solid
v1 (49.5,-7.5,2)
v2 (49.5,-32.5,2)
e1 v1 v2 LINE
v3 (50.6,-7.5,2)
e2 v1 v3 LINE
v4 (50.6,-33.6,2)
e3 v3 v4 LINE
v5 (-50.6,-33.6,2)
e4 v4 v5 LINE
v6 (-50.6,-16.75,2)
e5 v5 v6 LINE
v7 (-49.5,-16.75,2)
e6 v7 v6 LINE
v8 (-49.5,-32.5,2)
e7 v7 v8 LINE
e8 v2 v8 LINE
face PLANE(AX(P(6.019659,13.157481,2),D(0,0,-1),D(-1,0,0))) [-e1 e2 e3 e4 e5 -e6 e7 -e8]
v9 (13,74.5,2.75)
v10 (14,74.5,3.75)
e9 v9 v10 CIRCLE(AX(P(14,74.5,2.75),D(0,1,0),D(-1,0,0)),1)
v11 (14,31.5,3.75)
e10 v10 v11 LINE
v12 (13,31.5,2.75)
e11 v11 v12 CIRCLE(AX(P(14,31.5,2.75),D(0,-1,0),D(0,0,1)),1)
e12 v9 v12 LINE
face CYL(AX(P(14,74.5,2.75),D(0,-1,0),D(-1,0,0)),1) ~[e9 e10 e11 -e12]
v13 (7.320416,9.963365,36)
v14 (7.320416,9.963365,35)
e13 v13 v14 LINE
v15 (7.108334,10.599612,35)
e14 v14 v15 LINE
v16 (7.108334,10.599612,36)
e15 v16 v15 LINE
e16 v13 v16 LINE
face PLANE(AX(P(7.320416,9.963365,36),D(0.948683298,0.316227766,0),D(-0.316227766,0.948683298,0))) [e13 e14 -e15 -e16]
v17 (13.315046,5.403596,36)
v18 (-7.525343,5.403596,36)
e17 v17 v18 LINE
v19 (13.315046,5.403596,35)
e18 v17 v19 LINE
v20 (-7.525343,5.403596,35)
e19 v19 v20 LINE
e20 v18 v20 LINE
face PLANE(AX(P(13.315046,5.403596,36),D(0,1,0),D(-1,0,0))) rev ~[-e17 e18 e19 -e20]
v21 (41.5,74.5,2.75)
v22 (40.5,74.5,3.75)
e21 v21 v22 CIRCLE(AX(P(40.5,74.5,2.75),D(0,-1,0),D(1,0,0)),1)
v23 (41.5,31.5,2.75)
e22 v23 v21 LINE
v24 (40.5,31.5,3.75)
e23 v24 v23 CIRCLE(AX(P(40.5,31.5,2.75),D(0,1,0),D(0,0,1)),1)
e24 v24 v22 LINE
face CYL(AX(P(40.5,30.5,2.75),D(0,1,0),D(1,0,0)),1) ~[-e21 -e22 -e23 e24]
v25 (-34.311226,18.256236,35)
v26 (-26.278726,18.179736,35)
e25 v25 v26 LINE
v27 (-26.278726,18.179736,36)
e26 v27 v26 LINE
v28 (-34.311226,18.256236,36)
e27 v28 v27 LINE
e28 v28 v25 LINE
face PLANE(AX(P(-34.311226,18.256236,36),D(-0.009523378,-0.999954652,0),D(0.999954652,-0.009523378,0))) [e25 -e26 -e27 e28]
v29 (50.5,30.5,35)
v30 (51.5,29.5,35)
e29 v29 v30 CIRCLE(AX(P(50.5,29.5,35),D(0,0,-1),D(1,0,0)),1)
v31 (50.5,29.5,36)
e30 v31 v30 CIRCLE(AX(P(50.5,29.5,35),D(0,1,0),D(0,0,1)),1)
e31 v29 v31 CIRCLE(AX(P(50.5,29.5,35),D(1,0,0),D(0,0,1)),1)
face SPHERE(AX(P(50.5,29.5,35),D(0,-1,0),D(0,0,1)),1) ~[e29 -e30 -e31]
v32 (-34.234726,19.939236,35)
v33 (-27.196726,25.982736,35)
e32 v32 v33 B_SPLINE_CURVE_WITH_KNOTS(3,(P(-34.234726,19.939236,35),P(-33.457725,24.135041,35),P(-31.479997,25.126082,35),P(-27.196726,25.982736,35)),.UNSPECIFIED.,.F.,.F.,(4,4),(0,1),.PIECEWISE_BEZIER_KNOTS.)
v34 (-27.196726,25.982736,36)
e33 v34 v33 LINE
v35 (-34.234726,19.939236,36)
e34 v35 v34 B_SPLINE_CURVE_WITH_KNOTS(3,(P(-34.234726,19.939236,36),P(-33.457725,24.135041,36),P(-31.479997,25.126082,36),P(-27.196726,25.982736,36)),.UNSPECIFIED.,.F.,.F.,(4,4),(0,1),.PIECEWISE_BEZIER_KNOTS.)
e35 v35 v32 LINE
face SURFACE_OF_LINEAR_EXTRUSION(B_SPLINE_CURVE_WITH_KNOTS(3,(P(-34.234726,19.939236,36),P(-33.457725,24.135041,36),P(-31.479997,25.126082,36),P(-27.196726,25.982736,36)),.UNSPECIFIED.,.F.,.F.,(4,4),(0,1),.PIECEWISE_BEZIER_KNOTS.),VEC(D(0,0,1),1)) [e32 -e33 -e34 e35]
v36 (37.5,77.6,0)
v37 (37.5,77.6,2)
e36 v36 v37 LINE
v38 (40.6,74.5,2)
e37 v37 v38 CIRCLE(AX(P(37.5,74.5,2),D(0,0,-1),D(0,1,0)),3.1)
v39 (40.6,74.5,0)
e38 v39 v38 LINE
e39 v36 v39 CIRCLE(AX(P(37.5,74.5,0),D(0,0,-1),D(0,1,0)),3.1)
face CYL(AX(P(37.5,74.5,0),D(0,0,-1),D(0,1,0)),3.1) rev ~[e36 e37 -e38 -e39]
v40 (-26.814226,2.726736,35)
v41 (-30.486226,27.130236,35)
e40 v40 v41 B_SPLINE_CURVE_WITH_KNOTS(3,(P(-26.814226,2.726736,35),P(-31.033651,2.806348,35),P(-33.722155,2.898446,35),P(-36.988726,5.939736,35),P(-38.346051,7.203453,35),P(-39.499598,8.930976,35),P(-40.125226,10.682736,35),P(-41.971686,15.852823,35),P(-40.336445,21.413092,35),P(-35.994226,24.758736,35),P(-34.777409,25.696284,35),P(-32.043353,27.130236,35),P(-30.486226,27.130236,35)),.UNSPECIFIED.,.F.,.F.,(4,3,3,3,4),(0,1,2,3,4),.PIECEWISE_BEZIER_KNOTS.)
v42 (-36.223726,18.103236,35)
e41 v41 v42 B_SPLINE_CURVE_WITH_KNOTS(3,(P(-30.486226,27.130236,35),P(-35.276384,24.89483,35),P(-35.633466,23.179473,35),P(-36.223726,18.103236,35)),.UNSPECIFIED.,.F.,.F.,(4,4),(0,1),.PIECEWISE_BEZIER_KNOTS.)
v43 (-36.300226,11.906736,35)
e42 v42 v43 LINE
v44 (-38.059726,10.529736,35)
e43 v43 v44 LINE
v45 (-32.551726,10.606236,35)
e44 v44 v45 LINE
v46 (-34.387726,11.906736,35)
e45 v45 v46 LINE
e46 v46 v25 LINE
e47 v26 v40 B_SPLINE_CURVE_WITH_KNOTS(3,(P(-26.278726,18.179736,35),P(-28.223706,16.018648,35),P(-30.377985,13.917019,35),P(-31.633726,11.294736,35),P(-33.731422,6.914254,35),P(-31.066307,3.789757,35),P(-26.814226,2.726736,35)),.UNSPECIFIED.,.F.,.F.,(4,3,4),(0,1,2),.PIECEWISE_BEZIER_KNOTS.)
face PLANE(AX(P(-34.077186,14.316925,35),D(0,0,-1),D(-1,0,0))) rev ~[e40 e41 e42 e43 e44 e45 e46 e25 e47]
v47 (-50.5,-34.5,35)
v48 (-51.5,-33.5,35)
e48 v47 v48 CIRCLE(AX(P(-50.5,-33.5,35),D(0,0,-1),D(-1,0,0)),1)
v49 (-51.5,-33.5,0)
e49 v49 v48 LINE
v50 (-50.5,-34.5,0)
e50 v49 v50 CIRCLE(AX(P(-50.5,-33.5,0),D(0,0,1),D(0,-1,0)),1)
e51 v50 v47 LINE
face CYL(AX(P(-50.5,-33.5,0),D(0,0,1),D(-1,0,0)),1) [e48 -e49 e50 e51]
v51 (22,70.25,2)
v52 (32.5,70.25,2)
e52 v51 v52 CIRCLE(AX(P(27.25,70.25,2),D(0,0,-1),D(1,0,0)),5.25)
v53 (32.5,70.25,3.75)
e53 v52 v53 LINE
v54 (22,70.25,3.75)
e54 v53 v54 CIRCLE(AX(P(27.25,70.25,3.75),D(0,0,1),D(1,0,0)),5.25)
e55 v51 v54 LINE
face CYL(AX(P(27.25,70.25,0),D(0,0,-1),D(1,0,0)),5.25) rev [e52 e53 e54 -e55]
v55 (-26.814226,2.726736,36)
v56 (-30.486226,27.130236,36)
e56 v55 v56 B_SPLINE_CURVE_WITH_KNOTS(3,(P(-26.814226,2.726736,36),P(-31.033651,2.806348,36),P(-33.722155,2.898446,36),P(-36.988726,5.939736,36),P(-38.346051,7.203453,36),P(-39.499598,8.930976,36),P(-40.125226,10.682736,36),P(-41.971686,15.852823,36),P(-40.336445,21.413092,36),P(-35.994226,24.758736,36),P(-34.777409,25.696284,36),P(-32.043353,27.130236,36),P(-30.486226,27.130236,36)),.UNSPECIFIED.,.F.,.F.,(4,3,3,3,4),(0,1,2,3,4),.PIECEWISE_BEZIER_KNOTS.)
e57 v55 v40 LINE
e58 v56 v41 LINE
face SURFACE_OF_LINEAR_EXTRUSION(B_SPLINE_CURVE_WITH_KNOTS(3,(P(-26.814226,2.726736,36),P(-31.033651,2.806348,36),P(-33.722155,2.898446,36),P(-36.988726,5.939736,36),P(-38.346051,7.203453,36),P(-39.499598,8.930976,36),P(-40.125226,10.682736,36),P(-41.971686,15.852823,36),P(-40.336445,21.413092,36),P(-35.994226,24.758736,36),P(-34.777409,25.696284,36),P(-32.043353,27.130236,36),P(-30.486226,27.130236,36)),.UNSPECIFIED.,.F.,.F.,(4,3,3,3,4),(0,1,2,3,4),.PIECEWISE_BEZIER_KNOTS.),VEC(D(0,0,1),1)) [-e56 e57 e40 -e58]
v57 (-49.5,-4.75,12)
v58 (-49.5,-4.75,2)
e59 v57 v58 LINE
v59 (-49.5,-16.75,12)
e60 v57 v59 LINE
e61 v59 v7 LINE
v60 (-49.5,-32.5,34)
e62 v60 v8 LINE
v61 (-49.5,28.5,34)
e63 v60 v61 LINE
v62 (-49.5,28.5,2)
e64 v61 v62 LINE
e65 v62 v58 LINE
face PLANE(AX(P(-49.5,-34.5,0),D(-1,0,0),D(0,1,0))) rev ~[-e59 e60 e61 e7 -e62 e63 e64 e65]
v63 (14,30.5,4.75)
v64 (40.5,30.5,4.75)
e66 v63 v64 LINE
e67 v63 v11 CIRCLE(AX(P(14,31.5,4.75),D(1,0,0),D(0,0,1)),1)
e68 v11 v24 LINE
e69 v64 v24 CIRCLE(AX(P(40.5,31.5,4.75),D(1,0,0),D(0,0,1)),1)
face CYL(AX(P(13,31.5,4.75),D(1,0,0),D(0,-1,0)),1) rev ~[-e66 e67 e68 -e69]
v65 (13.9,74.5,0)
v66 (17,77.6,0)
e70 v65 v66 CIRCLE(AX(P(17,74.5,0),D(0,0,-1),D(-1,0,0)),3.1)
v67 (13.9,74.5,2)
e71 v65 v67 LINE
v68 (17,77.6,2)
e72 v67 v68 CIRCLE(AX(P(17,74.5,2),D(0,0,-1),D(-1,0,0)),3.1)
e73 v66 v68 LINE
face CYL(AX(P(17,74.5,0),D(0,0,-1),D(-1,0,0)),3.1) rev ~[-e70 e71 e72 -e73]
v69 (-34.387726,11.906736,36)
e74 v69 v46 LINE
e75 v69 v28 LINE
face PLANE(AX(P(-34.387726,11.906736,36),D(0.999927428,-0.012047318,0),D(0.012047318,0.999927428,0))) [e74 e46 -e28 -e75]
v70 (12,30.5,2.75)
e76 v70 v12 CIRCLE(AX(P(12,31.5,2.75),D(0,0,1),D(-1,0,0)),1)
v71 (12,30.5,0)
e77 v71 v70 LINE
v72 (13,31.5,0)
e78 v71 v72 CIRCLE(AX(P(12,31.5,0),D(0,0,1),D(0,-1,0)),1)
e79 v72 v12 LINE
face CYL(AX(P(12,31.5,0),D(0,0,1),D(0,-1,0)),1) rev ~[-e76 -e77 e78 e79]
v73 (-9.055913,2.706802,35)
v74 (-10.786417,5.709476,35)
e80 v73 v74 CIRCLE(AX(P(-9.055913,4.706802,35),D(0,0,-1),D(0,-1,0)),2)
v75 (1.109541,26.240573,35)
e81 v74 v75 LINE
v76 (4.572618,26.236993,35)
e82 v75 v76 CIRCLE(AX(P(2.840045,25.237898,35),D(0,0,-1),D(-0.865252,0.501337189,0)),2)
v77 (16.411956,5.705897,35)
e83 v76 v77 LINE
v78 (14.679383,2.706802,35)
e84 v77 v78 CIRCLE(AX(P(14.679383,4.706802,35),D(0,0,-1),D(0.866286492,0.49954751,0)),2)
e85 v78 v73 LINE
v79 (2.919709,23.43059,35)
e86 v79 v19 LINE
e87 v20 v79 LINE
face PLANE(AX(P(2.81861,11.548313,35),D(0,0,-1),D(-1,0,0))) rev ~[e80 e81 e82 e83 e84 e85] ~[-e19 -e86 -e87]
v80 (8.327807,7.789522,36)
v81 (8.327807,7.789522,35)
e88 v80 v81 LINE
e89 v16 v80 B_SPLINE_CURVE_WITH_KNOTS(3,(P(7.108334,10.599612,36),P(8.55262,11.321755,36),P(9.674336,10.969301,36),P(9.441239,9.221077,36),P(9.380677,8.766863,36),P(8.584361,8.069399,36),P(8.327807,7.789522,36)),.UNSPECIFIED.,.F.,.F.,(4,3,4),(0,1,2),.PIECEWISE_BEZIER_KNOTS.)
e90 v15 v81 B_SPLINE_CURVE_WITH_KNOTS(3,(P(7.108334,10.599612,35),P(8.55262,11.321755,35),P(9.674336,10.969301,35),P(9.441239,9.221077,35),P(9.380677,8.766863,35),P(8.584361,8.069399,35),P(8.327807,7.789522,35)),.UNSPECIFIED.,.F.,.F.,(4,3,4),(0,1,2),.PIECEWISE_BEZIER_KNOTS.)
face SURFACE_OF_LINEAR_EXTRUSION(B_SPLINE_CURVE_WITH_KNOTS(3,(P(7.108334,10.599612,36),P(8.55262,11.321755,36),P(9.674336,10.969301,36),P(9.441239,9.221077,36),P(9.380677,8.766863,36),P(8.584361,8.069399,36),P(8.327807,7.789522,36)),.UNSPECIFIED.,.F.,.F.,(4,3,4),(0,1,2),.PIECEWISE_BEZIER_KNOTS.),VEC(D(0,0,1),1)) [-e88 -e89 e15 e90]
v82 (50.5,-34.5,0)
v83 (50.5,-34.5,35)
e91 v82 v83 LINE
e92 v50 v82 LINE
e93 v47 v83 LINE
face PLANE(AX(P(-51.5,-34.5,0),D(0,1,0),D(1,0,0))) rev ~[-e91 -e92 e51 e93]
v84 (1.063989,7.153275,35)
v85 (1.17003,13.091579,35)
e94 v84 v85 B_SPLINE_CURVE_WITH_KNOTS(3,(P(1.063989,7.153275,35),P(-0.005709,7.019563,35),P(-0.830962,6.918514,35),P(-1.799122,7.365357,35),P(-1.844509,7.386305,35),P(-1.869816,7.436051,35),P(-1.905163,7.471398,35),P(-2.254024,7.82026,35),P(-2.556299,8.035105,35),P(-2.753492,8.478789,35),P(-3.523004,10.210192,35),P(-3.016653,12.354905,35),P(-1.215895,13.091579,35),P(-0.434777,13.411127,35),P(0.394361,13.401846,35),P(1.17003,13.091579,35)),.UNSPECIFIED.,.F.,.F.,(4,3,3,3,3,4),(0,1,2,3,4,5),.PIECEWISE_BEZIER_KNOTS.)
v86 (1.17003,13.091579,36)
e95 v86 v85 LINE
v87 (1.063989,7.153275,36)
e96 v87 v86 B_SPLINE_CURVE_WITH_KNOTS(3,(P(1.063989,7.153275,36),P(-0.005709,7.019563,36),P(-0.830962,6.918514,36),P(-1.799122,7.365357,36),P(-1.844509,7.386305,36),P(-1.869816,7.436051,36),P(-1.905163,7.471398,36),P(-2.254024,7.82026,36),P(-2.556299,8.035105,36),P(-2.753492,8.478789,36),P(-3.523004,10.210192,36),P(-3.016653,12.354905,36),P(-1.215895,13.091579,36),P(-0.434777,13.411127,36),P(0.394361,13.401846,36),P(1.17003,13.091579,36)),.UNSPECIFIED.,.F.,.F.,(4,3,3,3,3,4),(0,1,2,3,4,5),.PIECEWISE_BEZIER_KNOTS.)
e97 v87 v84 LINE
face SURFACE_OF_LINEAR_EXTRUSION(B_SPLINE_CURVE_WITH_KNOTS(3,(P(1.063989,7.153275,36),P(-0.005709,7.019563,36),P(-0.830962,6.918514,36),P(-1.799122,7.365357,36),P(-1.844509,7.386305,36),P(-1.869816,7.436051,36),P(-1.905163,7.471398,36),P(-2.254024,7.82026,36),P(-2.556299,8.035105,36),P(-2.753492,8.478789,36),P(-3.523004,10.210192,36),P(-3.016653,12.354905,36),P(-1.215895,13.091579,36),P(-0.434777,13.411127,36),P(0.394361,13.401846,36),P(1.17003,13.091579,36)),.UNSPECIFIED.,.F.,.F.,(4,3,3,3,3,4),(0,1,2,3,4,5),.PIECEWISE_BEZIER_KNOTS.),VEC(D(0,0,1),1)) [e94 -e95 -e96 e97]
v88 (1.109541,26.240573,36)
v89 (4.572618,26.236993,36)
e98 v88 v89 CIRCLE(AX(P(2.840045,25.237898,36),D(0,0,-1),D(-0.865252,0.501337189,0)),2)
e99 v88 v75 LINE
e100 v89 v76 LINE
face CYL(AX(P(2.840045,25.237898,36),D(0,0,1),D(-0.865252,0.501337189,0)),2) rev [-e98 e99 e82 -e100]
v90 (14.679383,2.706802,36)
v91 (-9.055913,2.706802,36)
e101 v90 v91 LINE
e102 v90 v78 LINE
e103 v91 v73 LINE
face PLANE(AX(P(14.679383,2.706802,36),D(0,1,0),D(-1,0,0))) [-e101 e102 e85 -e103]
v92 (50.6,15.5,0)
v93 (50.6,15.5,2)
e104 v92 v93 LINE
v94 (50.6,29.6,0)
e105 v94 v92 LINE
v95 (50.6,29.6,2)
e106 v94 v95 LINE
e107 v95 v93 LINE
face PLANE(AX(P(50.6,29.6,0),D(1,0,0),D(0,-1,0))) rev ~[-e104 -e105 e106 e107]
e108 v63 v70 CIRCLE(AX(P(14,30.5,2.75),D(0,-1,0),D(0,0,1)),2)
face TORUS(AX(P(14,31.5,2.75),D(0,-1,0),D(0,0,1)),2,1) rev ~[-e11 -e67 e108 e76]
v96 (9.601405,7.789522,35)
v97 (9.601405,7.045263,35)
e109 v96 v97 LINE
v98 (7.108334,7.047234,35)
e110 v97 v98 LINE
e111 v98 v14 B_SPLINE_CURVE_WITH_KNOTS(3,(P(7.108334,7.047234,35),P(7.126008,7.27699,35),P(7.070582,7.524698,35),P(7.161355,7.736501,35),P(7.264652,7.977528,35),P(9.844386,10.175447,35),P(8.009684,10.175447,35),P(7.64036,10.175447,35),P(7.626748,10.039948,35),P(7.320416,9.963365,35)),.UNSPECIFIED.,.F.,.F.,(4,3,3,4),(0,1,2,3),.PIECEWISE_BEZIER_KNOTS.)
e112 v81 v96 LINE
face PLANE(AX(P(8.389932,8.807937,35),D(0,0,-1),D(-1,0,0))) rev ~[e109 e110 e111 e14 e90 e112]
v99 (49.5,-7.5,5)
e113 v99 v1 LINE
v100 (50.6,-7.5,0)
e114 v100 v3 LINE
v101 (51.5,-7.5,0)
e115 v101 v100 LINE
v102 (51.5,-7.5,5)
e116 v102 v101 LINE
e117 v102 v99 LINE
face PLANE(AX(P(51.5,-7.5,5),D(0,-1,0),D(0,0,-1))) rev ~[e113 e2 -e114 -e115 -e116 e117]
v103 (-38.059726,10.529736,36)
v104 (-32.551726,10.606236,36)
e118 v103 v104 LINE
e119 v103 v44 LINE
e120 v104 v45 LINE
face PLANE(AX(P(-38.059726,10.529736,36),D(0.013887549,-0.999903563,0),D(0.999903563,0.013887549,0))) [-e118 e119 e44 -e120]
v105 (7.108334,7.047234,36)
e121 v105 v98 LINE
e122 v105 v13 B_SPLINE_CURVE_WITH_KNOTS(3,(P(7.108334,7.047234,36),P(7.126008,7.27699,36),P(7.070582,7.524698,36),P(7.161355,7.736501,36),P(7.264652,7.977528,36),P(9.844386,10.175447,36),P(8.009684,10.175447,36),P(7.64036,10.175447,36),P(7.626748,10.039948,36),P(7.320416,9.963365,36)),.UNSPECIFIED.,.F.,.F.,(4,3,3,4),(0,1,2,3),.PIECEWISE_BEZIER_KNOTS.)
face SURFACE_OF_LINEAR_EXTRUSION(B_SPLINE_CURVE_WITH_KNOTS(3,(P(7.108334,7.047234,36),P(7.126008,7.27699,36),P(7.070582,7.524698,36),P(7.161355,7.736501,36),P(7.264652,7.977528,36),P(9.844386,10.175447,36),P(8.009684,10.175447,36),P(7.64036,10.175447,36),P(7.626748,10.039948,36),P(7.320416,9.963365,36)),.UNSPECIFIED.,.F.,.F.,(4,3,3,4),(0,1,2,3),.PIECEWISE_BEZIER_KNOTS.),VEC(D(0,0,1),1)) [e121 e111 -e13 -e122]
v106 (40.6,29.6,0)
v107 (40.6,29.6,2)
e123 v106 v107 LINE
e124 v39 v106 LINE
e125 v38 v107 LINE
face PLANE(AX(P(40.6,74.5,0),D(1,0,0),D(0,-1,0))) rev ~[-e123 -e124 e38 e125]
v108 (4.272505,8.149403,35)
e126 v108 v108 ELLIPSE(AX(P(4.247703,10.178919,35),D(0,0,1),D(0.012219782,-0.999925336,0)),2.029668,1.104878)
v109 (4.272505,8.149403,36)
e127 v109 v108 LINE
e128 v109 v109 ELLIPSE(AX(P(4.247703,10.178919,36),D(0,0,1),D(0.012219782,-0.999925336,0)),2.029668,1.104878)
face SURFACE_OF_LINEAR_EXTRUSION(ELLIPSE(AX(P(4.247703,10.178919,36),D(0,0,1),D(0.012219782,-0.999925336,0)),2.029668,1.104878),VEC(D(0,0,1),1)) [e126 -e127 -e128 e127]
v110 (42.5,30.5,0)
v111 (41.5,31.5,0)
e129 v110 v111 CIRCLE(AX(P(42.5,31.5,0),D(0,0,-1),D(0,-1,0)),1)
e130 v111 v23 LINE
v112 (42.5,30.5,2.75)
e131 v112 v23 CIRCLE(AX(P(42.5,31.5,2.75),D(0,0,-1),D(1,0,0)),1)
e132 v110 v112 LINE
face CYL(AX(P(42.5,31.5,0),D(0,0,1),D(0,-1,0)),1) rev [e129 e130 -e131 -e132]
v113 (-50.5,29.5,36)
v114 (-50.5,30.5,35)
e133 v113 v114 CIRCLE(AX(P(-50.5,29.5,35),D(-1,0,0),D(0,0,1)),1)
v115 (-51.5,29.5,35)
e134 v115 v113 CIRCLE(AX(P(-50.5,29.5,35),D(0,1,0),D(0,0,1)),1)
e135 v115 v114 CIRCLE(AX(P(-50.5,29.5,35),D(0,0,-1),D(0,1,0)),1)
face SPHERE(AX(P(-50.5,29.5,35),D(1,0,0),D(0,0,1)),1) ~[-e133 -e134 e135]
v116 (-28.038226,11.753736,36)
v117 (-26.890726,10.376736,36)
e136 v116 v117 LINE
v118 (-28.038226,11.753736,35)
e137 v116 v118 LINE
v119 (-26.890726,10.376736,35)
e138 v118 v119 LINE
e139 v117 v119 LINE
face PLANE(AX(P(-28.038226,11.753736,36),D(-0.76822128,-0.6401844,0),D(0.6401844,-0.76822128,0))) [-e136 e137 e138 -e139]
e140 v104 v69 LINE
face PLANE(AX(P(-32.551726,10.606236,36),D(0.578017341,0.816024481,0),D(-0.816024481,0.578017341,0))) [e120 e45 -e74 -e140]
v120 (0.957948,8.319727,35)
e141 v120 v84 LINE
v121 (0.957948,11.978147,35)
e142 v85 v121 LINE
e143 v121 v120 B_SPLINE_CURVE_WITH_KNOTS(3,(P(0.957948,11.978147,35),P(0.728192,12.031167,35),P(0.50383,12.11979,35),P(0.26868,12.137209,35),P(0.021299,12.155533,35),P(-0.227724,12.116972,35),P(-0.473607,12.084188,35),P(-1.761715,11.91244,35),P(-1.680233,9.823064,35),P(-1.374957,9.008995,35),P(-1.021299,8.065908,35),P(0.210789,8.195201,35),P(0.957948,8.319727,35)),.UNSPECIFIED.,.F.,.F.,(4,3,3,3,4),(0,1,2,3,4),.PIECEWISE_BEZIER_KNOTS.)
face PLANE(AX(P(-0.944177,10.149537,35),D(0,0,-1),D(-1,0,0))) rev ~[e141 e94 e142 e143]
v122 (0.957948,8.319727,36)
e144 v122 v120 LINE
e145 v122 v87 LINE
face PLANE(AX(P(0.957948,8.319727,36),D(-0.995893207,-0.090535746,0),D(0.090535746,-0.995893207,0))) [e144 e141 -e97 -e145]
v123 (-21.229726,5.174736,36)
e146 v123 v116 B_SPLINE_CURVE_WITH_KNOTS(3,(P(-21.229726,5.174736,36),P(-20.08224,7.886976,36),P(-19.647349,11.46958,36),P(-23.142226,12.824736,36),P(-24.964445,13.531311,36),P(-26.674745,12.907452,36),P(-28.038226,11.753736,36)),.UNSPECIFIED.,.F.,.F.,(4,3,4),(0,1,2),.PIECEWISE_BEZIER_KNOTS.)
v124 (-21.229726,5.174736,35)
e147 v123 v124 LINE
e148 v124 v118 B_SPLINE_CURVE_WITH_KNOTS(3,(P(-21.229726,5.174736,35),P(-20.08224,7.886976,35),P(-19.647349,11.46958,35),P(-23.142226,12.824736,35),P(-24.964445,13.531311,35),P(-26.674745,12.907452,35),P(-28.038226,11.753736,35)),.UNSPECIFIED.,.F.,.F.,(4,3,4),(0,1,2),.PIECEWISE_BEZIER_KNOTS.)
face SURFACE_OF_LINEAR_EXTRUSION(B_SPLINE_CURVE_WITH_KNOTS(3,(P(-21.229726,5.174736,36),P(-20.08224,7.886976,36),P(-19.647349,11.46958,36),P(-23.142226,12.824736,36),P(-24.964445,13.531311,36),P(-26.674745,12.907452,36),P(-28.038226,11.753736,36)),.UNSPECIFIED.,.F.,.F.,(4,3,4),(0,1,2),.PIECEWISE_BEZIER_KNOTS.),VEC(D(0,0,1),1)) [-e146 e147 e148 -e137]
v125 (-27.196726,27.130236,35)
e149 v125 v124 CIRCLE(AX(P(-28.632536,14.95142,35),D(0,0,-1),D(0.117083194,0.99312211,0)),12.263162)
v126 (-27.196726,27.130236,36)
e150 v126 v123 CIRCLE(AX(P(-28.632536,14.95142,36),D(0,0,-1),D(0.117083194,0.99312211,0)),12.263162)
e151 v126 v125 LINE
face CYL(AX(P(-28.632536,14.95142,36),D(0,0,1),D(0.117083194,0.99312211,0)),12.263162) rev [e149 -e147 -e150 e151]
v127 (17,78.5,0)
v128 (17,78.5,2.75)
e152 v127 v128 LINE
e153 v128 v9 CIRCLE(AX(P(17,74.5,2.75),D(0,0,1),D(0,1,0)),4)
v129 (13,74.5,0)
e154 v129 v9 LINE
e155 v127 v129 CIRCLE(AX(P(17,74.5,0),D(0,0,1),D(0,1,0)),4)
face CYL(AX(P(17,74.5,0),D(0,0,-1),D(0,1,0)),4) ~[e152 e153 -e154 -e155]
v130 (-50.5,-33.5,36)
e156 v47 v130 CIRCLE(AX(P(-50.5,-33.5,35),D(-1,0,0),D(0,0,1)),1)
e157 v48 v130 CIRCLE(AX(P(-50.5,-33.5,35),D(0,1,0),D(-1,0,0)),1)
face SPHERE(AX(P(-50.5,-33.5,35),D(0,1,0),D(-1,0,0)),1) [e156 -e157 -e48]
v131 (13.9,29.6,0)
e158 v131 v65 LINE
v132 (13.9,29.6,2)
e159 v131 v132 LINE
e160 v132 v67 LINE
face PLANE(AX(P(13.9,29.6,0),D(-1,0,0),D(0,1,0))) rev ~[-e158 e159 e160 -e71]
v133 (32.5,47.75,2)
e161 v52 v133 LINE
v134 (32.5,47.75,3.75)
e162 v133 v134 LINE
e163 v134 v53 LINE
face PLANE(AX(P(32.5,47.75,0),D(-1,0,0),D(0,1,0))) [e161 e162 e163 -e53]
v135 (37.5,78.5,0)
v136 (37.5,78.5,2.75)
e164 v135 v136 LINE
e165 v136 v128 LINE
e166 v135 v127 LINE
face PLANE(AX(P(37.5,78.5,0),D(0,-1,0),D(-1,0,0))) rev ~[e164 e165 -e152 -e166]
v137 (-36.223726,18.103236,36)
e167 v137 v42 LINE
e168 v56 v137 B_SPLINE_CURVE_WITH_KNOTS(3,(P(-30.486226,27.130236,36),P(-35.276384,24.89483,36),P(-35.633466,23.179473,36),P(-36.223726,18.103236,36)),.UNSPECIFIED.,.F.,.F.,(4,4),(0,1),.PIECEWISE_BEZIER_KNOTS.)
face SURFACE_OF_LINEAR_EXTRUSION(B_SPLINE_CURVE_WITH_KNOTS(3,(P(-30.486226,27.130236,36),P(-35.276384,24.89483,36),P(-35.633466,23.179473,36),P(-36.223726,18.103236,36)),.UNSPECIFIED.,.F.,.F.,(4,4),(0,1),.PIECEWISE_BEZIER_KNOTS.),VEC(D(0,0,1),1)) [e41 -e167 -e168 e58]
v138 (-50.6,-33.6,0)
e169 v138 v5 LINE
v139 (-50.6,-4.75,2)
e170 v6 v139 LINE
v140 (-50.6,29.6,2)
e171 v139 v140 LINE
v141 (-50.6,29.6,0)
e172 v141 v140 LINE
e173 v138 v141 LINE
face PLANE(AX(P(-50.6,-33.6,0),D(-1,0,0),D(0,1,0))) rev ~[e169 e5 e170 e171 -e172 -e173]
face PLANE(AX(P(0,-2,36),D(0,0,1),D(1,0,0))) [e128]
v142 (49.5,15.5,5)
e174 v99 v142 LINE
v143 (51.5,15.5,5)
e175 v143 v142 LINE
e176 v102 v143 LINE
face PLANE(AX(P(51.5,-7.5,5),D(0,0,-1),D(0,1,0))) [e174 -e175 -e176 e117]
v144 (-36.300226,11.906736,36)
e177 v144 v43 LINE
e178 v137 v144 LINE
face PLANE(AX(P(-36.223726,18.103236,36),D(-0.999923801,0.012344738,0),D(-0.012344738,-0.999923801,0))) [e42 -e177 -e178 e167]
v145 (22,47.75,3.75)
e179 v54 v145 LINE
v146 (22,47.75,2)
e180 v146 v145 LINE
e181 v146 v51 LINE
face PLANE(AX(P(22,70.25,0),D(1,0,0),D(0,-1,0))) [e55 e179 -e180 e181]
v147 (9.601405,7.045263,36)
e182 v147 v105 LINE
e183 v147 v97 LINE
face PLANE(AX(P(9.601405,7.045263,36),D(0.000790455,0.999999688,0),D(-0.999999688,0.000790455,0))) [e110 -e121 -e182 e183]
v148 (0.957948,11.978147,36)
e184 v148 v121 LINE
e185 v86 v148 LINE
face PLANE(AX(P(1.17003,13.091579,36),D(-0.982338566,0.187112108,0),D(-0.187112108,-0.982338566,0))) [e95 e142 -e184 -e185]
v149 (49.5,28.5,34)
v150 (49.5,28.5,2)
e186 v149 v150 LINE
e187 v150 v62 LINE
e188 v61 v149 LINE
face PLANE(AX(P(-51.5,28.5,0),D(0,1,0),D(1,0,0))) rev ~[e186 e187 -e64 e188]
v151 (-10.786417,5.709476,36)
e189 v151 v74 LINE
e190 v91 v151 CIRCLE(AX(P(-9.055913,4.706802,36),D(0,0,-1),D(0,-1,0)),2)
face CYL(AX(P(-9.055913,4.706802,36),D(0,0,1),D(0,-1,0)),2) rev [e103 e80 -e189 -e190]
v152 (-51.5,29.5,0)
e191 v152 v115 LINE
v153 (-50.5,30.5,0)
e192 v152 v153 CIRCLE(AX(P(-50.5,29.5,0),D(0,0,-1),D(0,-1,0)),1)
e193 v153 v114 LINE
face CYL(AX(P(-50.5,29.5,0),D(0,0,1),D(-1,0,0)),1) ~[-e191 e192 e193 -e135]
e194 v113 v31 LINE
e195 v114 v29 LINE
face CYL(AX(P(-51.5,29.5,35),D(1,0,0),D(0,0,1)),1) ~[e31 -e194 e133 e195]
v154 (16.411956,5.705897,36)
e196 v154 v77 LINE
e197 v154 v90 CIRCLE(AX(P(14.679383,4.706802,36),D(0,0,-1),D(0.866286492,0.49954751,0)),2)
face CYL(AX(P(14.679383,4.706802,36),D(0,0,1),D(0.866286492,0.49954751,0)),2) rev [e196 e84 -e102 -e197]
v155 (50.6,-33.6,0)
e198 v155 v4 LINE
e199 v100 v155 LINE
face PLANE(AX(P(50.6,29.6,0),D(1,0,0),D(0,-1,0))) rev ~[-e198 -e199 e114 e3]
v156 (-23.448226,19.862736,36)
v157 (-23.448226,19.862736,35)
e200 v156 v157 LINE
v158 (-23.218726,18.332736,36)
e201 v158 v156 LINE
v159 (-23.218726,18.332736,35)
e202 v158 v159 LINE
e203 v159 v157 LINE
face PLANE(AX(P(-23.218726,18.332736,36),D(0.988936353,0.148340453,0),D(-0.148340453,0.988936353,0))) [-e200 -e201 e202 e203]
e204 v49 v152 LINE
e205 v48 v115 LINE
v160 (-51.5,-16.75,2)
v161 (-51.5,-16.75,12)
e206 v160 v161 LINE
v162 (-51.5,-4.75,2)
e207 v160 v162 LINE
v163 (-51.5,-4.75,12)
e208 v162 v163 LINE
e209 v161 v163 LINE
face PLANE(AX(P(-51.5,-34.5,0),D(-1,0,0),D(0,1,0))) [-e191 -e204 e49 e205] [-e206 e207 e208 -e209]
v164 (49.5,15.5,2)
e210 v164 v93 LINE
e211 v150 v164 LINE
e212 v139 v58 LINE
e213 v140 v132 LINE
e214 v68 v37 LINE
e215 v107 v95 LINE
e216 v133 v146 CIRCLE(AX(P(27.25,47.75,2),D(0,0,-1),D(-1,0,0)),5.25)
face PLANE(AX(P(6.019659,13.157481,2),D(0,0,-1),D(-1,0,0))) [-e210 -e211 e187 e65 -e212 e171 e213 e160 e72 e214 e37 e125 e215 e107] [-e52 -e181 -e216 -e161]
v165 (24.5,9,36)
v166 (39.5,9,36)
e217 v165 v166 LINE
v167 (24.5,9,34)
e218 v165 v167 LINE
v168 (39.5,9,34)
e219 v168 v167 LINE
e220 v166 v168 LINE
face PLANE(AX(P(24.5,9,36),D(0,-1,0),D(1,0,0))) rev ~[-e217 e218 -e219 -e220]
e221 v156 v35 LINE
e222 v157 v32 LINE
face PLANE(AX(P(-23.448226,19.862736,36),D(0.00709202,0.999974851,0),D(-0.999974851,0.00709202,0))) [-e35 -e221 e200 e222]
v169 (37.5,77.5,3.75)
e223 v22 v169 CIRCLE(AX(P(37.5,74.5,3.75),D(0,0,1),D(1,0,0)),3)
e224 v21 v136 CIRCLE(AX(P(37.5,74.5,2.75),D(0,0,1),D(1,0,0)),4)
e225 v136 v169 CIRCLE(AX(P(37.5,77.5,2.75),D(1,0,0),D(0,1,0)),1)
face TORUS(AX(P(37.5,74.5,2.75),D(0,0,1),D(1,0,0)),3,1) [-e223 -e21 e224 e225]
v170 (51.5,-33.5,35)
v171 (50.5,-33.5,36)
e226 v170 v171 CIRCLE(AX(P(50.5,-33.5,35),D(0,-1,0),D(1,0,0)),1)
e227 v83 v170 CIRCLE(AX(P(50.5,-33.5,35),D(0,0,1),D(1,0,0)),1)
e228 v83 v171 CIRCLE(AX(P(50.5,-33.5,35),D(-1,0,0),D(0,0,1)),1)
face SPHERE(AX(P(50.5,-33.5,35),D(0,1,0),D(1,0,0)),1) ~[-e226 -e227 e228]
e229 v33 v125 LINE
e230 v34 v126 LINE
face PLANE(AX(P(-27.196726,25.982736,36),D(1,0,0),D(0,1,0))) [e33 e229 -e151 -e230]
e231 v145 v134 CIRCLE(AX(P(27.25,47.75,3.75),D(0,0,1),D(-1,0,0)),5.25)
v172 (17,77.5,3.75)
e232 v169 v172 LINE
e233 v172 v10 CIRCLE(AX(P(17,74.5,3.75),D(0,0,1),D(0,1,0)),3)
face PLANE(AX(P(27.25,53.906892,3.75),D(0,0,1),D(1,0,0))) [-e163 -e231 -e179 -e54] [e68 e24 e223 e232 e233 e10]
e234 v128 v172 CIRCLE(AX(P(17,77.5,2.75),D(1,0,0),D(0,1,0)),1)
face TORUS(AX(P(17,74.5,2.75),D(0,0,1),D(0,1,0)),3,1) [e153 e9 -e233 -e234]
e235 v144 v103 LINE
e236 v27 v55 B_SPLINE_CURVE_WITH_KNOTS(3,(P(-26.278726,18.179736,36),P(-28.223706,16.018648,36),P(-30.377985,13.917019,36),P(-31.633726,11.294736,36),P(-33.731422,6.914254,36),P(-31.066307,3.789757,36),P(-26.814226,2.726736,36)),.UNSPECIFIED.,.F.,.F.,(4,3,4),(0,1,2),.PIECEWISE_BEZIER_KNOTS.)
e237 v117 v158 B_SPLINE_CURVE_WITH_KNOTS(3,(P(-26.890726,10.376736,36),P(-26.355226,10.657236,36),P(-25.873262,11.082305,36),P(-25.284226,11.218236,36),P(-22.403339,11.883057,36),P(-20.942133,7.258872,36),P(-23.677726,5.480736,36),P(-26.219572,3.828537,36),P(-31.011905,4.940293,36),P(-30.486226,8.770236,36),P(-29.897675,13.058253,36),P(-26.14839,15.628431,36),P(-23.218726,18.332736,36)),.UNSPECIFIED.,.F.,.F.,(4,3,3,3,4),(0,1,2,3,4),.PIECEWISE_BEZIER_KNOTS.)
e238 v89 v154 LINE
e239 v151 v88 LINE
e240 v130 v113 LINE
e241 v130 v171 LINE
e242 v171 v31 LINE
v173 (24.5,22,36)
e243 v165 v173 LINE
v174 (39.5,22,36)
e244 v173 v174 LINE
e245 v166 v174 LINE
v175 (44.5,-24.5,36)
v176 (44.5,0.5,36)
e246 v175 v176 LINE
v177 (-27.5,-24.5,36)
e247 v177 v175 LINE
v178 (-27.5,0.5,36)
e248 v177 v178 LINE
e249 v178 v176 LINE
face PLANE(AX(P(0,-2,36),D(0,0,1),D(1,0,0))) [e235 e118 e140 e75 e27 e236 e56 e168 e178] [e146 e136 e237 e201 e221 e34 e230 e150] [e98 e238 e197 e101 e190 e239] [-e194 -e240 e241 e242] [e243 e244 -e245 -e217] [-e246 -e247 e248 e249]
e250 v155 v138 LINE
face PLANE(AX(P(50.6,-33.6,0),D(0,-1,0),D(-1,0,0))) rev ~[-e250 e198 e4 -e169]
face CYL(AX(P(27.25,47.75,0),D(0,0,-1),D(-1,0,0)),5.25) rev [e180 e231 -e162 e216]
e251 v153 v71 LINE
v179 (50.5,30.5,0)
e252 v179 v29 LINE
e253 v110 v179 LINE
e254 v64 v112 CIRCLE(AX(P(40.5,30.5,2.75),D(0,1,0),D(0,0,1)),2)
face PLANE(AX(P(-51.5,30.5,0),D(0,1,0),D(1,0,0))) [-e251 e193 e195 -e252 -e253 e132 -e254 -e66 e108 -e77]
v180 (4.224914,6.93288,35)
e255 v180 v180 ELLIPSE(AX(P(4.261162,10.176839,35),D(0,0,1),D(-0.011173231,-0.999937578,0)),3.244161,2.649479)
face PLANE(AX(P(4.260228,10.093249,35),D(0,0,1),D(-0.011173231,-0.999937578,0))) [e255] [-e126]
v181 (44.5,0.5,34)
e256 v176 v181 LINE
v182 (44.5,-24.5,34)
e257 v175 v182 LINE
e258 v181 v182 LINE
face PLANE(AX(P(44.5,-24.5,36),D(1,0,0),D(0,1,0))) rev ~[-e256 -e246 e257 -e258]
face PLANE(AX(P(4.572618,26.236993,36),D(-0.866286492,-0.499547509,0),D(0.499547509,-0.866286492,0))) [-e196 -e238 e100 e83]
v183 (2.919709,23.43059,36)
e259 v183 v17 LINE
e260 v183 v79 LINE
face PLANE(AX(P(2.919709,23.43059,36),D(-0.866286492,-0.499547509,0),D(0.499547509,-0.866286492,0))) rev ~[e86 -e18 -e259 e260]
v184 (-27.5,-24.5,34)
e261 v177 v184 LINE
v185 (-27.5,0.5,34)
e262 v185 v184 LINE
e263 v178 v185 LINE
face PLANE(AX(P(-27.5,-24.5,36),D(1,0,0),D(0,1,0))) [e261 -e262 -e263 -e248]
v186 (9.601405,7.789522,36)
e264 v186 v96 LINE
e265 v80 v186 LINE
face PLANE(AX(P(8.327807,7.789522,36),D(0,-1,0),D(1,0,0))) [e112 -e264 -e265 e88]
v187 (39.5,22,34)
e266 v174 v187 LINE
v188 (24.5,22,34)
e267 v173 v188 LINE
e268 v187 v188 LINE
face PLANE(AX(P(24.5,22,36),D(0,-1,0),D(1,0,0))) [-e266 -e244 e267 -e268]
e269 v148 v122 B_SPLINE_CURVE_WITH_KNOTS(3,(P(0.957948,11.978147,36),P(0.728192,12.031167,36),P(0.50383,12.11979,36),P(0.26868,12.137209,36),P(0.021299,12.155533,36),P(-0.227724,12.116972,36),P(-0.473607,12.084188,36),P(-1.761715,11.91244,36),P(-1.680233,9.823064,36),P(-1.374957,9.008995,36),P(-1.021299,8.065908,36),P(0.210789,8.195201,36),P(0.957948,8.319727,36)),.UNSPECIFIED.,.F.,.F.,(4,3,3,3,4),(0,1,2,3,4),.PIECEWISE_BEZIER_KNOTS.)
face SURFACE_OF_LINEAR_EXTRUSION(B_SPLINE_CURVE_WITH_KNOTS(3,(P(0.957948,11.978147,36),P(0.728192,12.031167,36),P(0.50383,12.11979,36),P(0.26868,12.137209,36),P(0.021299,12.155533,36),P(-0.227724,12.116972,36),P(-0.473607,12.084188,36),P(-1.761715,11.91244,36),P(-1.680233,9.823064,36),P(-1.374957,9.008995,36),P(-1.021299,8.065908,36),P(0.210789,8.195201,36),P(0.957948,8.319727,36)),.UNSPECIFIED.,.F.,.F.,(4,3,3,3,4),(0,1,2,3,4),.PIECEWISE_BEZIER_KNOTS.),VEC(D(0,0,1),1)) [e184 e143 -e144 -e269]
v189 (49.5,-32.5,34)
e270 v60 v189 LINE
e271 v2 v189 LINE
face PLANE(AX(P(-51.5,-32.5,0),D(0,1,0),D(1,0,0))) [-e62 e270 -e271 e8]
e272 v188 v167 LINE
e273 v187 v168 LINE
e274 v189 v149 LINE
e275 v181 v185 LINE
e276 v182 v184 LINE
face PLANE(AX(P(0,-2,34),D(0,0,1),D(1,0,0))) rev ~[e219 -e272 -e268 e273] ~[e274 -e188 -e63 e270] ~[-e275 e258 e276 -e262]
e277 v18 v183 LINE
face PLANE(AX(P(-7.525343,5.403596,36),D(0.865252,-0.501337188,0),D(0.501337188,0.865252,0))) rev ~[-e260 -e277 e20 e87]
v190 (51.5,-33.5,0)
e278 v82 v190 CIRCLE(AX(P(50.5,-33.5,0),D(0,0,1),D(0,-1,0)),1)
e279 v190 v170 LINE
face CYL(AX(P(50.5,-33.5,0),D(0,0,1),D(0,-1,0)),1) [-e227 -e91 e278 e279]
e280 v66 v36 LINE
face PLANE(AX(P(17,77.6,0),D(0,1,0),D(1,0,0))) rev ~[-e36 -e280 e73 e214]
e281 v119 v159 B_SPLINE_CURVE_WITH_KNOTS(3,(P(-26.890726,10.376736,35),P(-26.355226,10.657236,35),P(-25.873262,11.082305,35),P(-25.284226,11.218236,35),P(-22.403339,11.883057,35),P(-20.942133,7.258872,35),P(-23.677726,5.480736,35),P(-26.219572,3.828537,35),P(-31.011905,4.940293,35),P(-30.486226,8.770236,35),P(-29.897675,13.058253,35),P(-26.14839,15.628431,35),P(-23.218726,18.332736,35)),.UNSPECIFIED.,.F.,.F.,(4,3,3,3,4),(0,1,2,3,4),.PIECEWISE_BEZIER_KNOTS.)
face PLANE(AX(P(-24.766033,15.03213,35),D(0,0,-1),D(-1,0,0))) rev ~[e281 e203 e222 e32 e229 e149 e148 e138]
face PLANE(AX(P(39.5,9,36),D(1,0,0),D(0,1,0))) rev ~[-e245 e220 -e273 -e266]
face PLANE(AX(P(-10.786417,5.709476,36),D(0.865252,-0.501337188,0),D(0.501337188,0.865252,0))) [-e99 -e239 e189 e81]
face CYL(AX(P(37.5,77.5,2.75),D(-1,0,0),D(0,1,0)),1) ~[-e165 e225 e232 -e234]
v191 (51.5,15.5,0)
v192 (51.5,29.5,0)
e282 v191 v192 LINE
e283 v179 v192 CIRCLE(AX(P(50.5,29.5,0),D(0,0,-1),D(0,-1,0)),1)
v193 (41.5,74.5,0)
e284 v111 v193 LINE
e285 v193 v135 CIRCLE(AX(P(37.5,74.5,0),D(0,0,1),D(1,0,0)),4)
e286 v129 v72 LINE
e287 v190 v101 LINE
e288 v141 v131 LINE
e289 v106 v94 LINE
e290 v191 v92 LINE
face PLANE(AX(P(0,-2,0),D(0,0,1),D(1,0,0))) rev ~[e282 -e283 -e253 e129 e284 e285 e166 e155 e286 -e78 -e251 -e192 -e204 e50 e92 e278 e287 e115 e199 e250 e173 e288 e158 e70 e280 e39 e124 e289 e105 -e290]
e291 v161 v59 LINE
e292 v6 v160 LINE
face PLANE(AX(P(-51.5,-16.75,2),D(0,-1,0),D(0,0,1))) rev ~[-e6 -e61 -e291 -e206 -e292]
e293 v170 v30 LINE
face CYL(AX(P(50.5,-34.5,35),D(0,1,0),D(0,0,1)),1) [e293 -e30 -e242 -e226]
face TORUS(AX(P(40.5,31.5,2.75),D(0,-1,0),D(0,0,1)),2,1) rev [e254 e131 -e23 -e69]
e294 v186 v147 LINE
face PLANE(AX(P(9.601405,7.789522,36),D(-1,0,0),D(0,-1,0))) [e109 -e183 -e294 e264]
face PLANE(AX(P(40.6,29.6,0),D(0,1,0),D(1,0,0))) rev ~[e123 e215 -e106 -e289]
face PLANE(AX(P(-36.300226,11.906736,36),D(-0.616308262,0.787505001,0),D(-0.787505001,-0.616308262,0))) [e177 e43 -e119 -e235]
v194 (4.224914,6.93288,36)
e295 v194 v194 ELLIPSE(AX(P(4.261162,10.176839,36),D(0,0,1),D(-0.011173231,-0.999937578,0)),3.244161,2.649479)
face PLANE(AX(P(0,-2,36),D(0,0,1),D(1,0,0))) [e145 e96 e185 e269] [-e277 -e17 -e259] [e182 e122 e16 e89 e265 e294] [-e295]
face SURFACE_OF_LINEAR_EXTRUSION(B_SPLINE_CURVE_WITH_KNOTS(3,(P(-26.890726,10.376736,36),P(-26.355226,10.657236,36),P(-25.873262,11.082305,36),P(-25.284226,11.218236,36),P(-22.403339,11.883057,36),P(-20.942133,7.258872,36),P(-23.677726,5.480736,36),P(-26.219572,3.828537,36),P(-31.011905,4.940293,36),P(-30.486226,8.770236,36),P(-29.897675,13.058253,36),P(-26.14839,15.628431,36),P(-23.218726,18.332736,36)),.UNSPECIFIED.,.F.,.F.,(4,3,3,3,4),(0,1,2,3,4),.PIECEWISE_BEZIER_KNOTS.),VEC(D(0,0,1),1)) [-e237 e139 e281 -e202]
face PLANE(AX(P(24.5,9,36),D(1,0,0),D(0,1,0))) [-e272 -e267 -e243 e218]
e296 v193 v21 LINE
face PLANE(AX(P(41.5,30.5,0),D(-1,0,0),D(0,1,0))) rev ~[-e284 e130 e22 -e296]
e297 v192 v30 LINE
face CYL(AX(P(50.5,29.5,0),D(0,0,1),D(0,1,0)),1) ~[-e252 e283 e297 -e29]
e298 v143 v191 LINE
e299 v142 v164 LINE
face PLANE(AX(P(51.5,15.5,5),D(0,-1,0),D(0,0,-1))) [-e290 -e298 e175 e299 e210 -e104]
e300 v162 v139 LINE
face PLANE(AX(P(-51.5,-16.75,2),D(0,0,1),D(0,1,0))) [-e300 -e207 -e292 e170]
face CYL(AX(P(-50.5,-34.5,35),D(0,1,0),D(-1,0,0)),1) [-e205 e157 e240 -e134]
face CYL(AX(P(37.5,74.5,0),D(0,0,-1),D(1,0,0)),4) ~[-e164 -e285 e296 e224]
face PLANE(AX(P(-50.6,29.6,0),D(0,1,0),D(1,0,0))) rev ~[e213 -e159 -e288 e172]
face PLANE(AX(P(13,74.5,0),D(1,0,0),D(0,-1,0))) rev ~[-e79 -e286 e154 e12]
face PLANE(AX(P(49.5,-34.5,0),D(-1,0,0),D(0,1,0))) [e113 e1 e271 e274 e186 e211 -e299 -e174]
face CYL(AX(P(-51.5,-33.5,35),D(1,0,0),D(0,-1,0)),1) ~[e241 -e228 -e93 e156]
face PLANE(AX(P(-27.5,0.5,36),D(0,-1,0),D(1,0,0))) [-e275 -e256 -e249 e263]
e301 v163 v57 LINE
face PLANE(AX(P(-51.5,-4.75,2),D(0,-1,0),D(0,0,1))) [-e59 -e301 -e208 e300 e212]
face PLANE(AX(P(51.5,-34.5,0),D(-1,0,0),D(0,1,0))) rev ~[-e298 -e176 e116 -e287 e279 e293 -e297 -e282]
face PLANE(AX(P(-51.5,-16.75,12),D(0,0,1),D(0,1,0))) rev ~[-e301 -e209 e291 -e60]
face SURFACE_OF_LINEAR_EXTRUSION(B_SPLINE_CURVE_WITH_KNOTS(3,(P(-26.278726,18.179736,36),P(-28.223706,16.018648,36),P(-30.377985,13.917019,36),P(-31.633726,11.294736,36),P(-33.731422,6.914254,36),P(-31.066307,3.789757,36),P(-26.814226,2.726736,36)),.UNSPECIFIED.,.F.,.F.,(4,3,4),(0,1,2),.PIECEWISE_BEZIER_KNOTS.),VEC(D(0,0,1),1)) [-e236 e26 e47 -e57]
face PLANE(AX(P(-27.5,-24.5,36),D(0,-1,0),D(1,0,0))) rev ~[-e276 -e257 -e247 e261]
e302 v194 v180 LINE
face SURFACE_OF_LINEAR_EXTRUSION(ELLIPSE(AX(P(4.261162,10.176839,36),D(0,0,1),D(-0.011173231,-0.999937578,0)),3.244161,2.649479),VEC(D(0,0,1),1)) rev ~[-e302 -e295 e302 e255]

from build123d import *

# Parameters (mm, degrees)
CROQUIS1_W              = 103
CROQUIS1_H              = 65
SALIENTE_EXTRUIR2_DEPTH = 36
VACIADO7_T              = -2
CORTAR_EXTRUIR28_REACH  = 73.683
CROQUIS12_W             = 72
CROQUIS12_H             = 25
SALIENTE_EXTRUIR3_DEPTH = 3.75
CORTAR_EXTRUIR11_DEPTH  = 2
CORTAR_EXTRUIR17_REACH  = 136.414
CROQUIS16_W             = 10
CROQUIS16_H             = 12
CORTAR_EXTRUIR18_DEPTH  = 1
CORTAR_EXTRUIR29_REACH  = 102.551
CROQUIS30_W             = 15
CROQUIS30_H             = 13
CROQUIS20_RX            = 3.244161213
CROQUIS20_RY            = 2.649478984
CROQUIS20_RX_2          = 2.029667585
CROQUIS20_RY_2          = 1.104878059
CORTAR_EXTRUIR24_DEPTH  = 1
CORTAR_EXTRUIR30_REACH  = 136.414
CROQUIS31_W             = 5
CROQUIS31_H             = 23
REDONDEO1_R             = 1


with BuildPart() as part:
    # Croquis1 → Saliente-Extruir2 (new body)
    with BuildSketch(Plane.XY):
        with Locations((0, -2)):
            Rectangle(CROQUIS1_W, CROQUIS1_H)
    extrude(amount=SALIENTE_EXTRUIR2_DEPTH)

    # Vaciado7
    vaciado7_openings = [part.faces().sort_by_distance(p)[0] for p in [
        (0, -2, 0),
    ]]
    offset(amount=VACIADO7_T, openings=vaciado7_openings, kind=Kind.INTERSECTION)

    # Croquis12 → Cortar-Extruir28 (cut, up to next)
    with BuildSketch(Plane.XY.offset(36), mode=Mode.PRIVATE) as cortar_extruir28_sk1:
        with Locations((8.5, -12)):
            Rectangle(CROQUIS12_W, CROQUIS12_H)
    cortar_extruir28_tool1 = extrude(cortar_extruir28_sk1.sketch, amount=-CORTAR_EXTRUIR28_REACH, mode=Mode.PRIVATE) & part.part
    add(cortar_extruir28_tool1.solids().sort_by_distance((8.5, -12, 36))[0], mode=Mode.SUBTRACT)

    # Croquis29 → Saliente-Extruir3 (add)
    with BuildSketch(Plane(origin=(0, 0, 0), x_dir=(-1, 0, 0), z_dir=(0, 0, -1))):
        with BuildLine():
            Line((-13, 74.5), (-13, 30.5))
            Line((-13, 30.5), (-41.5, 30.5))
            Line((-41.5, 30.5), (-41.5, 74.5))
            ThreePointArc((-41.5, 74.5), (-40.328427125, 77.328427125), (-37.5, 78.5))
            Line((-37.5, 78.5), (-17, 78.5))
            ThreePointArc((-17, 78.5), (-14.171572875, 77.328427125), (-13, 74.5))
        make_face()
        with BuildLine():
            Line((-22, 70.25), (-22, 47.75))
            ThreePointArc((-22, 47.75), (-27.25, 42.5), (-32.5, 47.75))
            Line((-32.5, 47.75), (-32.5, 70.25))
            ThreePointArc((-32.5, 70.25), (-27.25, 75.5), (-22, 70.25))
        make_face(mode=Mode.SUBTRACT)
    extrude(amount=-SALIENTE_EXTRUIR3_DEPTH)

    # Croquis14 → Cortar-Extruir11 (cut)
    with BuildSketch(Plane(origin=(0, 0, 0), x_dir=(-1, 0, 0), z_dir=(0, 0, -1))):
        with BuildLine():
            Line((50.6, -33.6), (50.6, 29.6))
            Line((50.6, 29.6), (-13.9, 29.6))
            Line((-13.9, 29.6), (-13.9, 74.5))
            ThreePointArc((-13.9, 74.5), (-14.807968978, 76.692031022), (-17, 77.6))
            Line((-17, 77.6), (-37.5, 77.6))
            ThreePointArc((-37.5, 77.6), (-39.692031022, 76.692031022), (-40.6, 74.5))
            Line((-40.6, 74.5), (-40.6, 29.6))
            Line((-40.6, 29.6), (-50.6, 29.6))
            Line((-50.6, 29.6), (-50.6, -33.6))
            Line((-50.6, -33.6), (50.6, -33.6))
        make_face()
    extrude(amount=-CORTAR_EXTRUIR11_DEPTH, mode=Mode.SUBTRACT)

    # Croquis16 → Cortar-Extruir17 (cut, up to next)
    with BuildSketch(Plane.ZY.offset(51.5), mode=Mode.PRIVATE) as cortar_extruir17_sk1:
        with Locations((7, -10.75)):
            Rectangle(CROQUIS16_W, CROQUIS16_H)
    cortar_extruir17_tool1 = extrude(cortar_extruir17_sk1.sketch, amount=-CORTAR_EXTRUIR17_REACH, mode=Mode.PRIVATE) & part.part
    add(cortar_extruir17_tool1.solids().sort_by_distance((-51.5, -10.75, 7))[0], mode=Mode.SUBTRACT)

    # Croquis19 → Cortar-Extruir18 (cut)
    with BuildSketch(Plane.XY.offset(36)):
        with BuildLine():
            Line((-36.223726294, 18.103236492), (-36.300226294, 11.906736492))
            Line((-36.300226294, 11.906736492), (-38.059726294, 10.529736492))
            Line((-38.059726294, 10.529736492), (-32.551726294, 10.606236492))
            Line((-32.551726294, 10.606236492), (-34.387726294, 11.906736492))
            Line((-34.387726294, 11.906736492), (-34.311226294, 18.256236492))
            Line((-34.311226294, 18.256236492), (-26.278726294, 18.179736492))
            add(Edge.make_bspline(
                [(-26.278726294, 18.179736492), (-28.22370602, 16.018647908), (-30.377985435, 13.917018874), (-31.633726294, 11.294736492), (-33.731422223, 6.914253816), (-31.066306732, 3.789756601), (-26.814226294, 2.726736492)],
                knots=[0, 0, 0, 0, 1, 1, 1, 2, 2, 2, 2], degree=3))
            add(Edge.make_bspline(
                [(-26.814226294, 2.726736492), (-31.033650763, 2.806348274), (-33.722154738, 2.898445732), (-36.988726294, 5.939736492), (-38.346051193, 7.203452776), (-39.499597648, 8.930976283), (-40.125226294, 10.682736492), (-41.971685665, 15.852822731), (-40.336445335, 21.413092312), (-35.994226294, 24.758736492), (-34.777408856, 25.696284354), (-32.043353447, 27.130236492), (-30.486226294, 27.130236492)],
                knots=[0, 0, 0, 0, 1, 1, 1, 2, 2, 2, 3, 3, 3, 4, 4, 4, 4], degree=3))
            add(Edge.make_bspline(
                [(-30.486226294, 27.130236492), (-35.276384078, 24.894829526), (-35.63346627, 23.1794727), (-36.223726294, 18.103236492)],
                knots=[0, 0, 0, 0, 1, 1, 1, 1], degree=3))
        make_face()
        with BuildLine():
            Line((-23.218726294, 18.332736492), (-23.448226294, 19.862736492))
            Line((-23.448226294, 19.862736492), (-34.234726294, 19.939236492))
            add(Edge.make_bspline(
                [(-34.234726294, 19.939236492), (-33.457725428, 24.135041168), (-31.479996794, 25.126082392), (-27.196726294, 25.982736492)],
                knots=[0, 0, 0, 0, 1, 1, 1, 1], degree=3))
            Line((-27.196726294, 25.982736492), (-27.196726294, 27.130236492))
            ThreePointArc((-27.196726294, 27.130236492), (-16.798631859, 18.167602749), (-21.229726294, 5.174736492))
            add(Edge.make_bspline(
                [(-21.229726294, 5.174736492), (-20.082240237, 7.886976262), (-19.647348857, 11.469579934), (-23.142226294, 12.824736492), (-24.964444536, 13.531310912), (-26.67474463, 12.907451746), (-28.038226294, 11.753736492)],
                knots=[0, 0, 0, 0, 1, 1, 1, 2, 2, 2, 2], degree=3))
            Line((-28.038226294, 11.753736492), (-26.890726294, 10.376736492))
            add(Edge.make_bspline(
                [(-26.890726294, 10.376736492), (-26.355226294, 10.657236492), (-25.873262092, 11.082305154), (-25.284226294, 11.218236492), (-22.403339447, 11.883056533), (-20.942132867, 7.258872219), (-23.677726294, 5.480736492), (-26.219571673, 3.828536995), (-31.011904798, 4.940293107), (-30.486226294, 8.770236492), (-29.897675063, 13.058252603), (-26.148390413, 15.628431151), (-23.218726294, 18.332736492)],
                knots=[0, 0, 0, 0, 1, 1, 1, 2, 2, 2, 3, 3, 3, 4, 4, 4, 4], degree=3))
        make_face()
    extrude(amount=-CORTAR_EXTRUIR18_DEPTH, mode=Mode.SUBTRACT)

    # Croquis30 → Cortar-Extruir29 (cut, up to next)
    with BuildSketch(Plane.XY.offset(36), mode=Mode.PRIVATE) as cortar_extruir29_sk1:
        with Locations((32, 15.5)):
            Rectangle(CROQUIS30_W, CROQUIS30_H)
    cortar_extruir29_tool1 = extrude(cortar_extruir29_sk1.sketch, amount=-CORTAR_EXTRUIR29_REACH, mode=Mode.PRIVATE) & part.part
    add(cortar_extruir29_tool1.solids().sort_by_distance((32, 15.5, 36))[0], mode=Mode.SUBTRACT)

    # Croquis20 → Cortar-Extruir24 (cut)
    # profile 1 of 4: a face of its own
    with BuildSketch(Plane.XY.offset(36)):
        with BuildLine():
            Line((4.572618324, 26.236993213), (16.411955601, 5.705897052))
            ThreePointArc((16.411955601, 5.705897052), (16.41117216, 3.706349644), (14.679382618, 2.706802033))
            Line((14.679382618, 2.706802033), (-9.055913318, 2.706802033))
            ThreePointArc((-9.055913318, 2.706802033), (-10.788735979, 3.708140116), (-10.786417318, 5.709476409))
            Line((-10.786417318, 5.709476409), (1.10954134, 26.24057257))
            ThreePointArc((1.10954134, 26.24057257), (2.842112494, 27.237897125), (4.572618324, 26.236993213))
        make_face()
        Polygon((13.315045751, 5.40359616), (-7.525343254, 5.40359616), (2.919708988, 23.430589877), align=None, mode=Mode.SUBTRACT)
    # profile 2 of 4: a face of its own
    with BuildSketch(Plane.XY.offset(36)):
        with BuildLine():
            add(Edge.make_bspline(
                [(0.957947907, 11.978146809), (0.728192104, 12.031167379), (0.503830462, 12.119790003), (0.2686805, 12.137208519), (0.02129854, 12.155533108), (-0.227723762, 12.116972444), (-0.473607477, 12.084187949), (-1.761714803, 11.912440305), (-1.68023315, 9.823064204), (-1.374957163, 9.008994903), (-1.021299456, 8.065907685), (0.210788659, 8.195200955), (0.957947907, 8.319727496)],
                knots=[0, 0, 0, 0, 1, 1, 1, 2, 2, 2, 3, 3, 3, 4, 4, 4, 4], degree=3))
            Line((0.957947907, 8.319727496), (1.063989046, 7.153274962))
            add(Edge.make_bspline(
                [(1.063989046, 7.153274962), (-0.005709113, 7.019562692), (-0.830962431, 6.918514492), (-1.799121721, 7.365357241), (-1.844509042, 7.386305235), (-1.869815814, 7.436051334), (-1.90516286, 7.47139838), (-2.254024165, 7.820259685), (-2.556299158, 8.035105364), (-2.753491976, 8.478789206), (-3.523004311, 10.210191958), (-3.016653464, 12.354905043), (-1.215895453, 13.091578774), (-0.43477741, 13.411127065), (0.394361483, 13.401846255), (1.170030186, 13.091578774)],
                knots=[0, 0, 0, 0, 1, 1, 1, 2, 2, 2, 3, 3, 3, 4, 4, 4, 5, 5, 5, 5], degree=3))
            Line((1.170030186, 13.091578774), (0.957947907, 11.978146809))
        make_face()
    # profile 3 of 4: a face of its own
    with BuildSketch(Plane.XY.offset(36)):
        with Locations(Location((4.261161965, 10.176838891), (0, 0, -90.640192277))):
            Ellipse(CROQUIS20_RX, CROQUIS20_RY)
        with Locations(Location((4.247703103, 10.178918948), (0, 0, -89.299840613))):
            Ellipse(CROQUIS20_RX_2, CROQUIS20_RY_2, mode=Mode.SUBTRACT)
    # profile 4 of 4: a face of its own
    with BuildSketch(Plane.XY.offset(36)):
        with BuildLine():
            add(Edge.make_bspline(
                [(7.108333998, 7.047233822), (7.126007522, 7.276989624), (7.070581952, 7.524698457), (7.161354568, 7.736501229), (7.264651746, 7.977527978), (9.844386297, 10.175447438), (8.009683684, 10.175447438), (7.640359808, 10.175447438), (7.626747901, 10.039948065), (7.320416277, 9.963365159)],
                knots=[0, 0, 0, 0, 1, 1, 1, 2, 2, 2, 3, 3, 3, 3], degree=3))
            Line((7.320416277, 9.963365159), (7.108333998, 10.599611996))
            add(Edge.make_bspline(
                [(7.108333998, 10.599611996), (8.552619624, 11.321754809), (9.674335559, 10.969300864), (9.441239068, 9.221077182), (9.380677119, 8.766862564), (8.584361381, 8.069399194), (8.327807103, 7.789521799)],
                knots=[0, 0, 0, 0, 1, 1, 1, 2, 2, 2, 2], degree=3))
            Line((8.327807103, 7.789521799), (9.601404893, 7.789521799))
            Line((9.601404893, 7.789521799), (9.601404893, 7.04526316))
            Line((9.601404893, 7.04526316), (7.108333998, 7.047233822))
        make_face()
    extrude(amount=-CORTAR_EXTRUIR24_DEPTH, mode=Mode.SUBTRACT)

    # Croquis31 → Cortar-Extruir30 (cut, up to next)
    with BuildSketch(Plane(origin=(51.5, 0, 0), x_dir=(0, 0, -1), z_dir=(1, 0, 0)), mode=Mode.PRIVATE) as cortar_extruir30_sk1:
        with Locations((-2.5, 4)):
            Rectangle(CROQUIS31_W, CROQUIS31_H)
    cortar_extruir30_tool1 = extrude(cortar_extruir30_sk1.sketch, amount=-CORTAR_EXTRUIR30_REACH, mode=Mode.PRIVATE) & part.part
    add(cortar_extruir30_tool1.solids().sort_by_distance((51.5, 4, 2.5))[0], mode=Mode.SUBTRACT)

    # Redondeo1
    redondeo1_edges = [part.edges().sort_by_distance(p)[0] for p in [
        (51.5, -2, 36),
        (0, 30.5, 36),
        (40.328427125, 77.328427125, 3.75),
        (27.25, 78.5, 3.75),
        (14.171572875, 77.328427125, 3.75),
        (13, 52.5, 3.75),
        (27.25, 30.5, 3.75),
        (13, 30.5, 1.875),
        (41.5, 52.5, 3.75),
        (41.5, 30.5, 1.875),
        (-51.5, -2, 36),
        (-51.5, 30.5, 18),
        (51.5, 30.5, 18),
        (51.5, -34.5, 18),
        (-51.5, -34.5, 18),
        (0, -34.5, 36),
    ]]
    fillet(redondeo1_edges, radius=REDONDEO1_R)


solid = part.part
